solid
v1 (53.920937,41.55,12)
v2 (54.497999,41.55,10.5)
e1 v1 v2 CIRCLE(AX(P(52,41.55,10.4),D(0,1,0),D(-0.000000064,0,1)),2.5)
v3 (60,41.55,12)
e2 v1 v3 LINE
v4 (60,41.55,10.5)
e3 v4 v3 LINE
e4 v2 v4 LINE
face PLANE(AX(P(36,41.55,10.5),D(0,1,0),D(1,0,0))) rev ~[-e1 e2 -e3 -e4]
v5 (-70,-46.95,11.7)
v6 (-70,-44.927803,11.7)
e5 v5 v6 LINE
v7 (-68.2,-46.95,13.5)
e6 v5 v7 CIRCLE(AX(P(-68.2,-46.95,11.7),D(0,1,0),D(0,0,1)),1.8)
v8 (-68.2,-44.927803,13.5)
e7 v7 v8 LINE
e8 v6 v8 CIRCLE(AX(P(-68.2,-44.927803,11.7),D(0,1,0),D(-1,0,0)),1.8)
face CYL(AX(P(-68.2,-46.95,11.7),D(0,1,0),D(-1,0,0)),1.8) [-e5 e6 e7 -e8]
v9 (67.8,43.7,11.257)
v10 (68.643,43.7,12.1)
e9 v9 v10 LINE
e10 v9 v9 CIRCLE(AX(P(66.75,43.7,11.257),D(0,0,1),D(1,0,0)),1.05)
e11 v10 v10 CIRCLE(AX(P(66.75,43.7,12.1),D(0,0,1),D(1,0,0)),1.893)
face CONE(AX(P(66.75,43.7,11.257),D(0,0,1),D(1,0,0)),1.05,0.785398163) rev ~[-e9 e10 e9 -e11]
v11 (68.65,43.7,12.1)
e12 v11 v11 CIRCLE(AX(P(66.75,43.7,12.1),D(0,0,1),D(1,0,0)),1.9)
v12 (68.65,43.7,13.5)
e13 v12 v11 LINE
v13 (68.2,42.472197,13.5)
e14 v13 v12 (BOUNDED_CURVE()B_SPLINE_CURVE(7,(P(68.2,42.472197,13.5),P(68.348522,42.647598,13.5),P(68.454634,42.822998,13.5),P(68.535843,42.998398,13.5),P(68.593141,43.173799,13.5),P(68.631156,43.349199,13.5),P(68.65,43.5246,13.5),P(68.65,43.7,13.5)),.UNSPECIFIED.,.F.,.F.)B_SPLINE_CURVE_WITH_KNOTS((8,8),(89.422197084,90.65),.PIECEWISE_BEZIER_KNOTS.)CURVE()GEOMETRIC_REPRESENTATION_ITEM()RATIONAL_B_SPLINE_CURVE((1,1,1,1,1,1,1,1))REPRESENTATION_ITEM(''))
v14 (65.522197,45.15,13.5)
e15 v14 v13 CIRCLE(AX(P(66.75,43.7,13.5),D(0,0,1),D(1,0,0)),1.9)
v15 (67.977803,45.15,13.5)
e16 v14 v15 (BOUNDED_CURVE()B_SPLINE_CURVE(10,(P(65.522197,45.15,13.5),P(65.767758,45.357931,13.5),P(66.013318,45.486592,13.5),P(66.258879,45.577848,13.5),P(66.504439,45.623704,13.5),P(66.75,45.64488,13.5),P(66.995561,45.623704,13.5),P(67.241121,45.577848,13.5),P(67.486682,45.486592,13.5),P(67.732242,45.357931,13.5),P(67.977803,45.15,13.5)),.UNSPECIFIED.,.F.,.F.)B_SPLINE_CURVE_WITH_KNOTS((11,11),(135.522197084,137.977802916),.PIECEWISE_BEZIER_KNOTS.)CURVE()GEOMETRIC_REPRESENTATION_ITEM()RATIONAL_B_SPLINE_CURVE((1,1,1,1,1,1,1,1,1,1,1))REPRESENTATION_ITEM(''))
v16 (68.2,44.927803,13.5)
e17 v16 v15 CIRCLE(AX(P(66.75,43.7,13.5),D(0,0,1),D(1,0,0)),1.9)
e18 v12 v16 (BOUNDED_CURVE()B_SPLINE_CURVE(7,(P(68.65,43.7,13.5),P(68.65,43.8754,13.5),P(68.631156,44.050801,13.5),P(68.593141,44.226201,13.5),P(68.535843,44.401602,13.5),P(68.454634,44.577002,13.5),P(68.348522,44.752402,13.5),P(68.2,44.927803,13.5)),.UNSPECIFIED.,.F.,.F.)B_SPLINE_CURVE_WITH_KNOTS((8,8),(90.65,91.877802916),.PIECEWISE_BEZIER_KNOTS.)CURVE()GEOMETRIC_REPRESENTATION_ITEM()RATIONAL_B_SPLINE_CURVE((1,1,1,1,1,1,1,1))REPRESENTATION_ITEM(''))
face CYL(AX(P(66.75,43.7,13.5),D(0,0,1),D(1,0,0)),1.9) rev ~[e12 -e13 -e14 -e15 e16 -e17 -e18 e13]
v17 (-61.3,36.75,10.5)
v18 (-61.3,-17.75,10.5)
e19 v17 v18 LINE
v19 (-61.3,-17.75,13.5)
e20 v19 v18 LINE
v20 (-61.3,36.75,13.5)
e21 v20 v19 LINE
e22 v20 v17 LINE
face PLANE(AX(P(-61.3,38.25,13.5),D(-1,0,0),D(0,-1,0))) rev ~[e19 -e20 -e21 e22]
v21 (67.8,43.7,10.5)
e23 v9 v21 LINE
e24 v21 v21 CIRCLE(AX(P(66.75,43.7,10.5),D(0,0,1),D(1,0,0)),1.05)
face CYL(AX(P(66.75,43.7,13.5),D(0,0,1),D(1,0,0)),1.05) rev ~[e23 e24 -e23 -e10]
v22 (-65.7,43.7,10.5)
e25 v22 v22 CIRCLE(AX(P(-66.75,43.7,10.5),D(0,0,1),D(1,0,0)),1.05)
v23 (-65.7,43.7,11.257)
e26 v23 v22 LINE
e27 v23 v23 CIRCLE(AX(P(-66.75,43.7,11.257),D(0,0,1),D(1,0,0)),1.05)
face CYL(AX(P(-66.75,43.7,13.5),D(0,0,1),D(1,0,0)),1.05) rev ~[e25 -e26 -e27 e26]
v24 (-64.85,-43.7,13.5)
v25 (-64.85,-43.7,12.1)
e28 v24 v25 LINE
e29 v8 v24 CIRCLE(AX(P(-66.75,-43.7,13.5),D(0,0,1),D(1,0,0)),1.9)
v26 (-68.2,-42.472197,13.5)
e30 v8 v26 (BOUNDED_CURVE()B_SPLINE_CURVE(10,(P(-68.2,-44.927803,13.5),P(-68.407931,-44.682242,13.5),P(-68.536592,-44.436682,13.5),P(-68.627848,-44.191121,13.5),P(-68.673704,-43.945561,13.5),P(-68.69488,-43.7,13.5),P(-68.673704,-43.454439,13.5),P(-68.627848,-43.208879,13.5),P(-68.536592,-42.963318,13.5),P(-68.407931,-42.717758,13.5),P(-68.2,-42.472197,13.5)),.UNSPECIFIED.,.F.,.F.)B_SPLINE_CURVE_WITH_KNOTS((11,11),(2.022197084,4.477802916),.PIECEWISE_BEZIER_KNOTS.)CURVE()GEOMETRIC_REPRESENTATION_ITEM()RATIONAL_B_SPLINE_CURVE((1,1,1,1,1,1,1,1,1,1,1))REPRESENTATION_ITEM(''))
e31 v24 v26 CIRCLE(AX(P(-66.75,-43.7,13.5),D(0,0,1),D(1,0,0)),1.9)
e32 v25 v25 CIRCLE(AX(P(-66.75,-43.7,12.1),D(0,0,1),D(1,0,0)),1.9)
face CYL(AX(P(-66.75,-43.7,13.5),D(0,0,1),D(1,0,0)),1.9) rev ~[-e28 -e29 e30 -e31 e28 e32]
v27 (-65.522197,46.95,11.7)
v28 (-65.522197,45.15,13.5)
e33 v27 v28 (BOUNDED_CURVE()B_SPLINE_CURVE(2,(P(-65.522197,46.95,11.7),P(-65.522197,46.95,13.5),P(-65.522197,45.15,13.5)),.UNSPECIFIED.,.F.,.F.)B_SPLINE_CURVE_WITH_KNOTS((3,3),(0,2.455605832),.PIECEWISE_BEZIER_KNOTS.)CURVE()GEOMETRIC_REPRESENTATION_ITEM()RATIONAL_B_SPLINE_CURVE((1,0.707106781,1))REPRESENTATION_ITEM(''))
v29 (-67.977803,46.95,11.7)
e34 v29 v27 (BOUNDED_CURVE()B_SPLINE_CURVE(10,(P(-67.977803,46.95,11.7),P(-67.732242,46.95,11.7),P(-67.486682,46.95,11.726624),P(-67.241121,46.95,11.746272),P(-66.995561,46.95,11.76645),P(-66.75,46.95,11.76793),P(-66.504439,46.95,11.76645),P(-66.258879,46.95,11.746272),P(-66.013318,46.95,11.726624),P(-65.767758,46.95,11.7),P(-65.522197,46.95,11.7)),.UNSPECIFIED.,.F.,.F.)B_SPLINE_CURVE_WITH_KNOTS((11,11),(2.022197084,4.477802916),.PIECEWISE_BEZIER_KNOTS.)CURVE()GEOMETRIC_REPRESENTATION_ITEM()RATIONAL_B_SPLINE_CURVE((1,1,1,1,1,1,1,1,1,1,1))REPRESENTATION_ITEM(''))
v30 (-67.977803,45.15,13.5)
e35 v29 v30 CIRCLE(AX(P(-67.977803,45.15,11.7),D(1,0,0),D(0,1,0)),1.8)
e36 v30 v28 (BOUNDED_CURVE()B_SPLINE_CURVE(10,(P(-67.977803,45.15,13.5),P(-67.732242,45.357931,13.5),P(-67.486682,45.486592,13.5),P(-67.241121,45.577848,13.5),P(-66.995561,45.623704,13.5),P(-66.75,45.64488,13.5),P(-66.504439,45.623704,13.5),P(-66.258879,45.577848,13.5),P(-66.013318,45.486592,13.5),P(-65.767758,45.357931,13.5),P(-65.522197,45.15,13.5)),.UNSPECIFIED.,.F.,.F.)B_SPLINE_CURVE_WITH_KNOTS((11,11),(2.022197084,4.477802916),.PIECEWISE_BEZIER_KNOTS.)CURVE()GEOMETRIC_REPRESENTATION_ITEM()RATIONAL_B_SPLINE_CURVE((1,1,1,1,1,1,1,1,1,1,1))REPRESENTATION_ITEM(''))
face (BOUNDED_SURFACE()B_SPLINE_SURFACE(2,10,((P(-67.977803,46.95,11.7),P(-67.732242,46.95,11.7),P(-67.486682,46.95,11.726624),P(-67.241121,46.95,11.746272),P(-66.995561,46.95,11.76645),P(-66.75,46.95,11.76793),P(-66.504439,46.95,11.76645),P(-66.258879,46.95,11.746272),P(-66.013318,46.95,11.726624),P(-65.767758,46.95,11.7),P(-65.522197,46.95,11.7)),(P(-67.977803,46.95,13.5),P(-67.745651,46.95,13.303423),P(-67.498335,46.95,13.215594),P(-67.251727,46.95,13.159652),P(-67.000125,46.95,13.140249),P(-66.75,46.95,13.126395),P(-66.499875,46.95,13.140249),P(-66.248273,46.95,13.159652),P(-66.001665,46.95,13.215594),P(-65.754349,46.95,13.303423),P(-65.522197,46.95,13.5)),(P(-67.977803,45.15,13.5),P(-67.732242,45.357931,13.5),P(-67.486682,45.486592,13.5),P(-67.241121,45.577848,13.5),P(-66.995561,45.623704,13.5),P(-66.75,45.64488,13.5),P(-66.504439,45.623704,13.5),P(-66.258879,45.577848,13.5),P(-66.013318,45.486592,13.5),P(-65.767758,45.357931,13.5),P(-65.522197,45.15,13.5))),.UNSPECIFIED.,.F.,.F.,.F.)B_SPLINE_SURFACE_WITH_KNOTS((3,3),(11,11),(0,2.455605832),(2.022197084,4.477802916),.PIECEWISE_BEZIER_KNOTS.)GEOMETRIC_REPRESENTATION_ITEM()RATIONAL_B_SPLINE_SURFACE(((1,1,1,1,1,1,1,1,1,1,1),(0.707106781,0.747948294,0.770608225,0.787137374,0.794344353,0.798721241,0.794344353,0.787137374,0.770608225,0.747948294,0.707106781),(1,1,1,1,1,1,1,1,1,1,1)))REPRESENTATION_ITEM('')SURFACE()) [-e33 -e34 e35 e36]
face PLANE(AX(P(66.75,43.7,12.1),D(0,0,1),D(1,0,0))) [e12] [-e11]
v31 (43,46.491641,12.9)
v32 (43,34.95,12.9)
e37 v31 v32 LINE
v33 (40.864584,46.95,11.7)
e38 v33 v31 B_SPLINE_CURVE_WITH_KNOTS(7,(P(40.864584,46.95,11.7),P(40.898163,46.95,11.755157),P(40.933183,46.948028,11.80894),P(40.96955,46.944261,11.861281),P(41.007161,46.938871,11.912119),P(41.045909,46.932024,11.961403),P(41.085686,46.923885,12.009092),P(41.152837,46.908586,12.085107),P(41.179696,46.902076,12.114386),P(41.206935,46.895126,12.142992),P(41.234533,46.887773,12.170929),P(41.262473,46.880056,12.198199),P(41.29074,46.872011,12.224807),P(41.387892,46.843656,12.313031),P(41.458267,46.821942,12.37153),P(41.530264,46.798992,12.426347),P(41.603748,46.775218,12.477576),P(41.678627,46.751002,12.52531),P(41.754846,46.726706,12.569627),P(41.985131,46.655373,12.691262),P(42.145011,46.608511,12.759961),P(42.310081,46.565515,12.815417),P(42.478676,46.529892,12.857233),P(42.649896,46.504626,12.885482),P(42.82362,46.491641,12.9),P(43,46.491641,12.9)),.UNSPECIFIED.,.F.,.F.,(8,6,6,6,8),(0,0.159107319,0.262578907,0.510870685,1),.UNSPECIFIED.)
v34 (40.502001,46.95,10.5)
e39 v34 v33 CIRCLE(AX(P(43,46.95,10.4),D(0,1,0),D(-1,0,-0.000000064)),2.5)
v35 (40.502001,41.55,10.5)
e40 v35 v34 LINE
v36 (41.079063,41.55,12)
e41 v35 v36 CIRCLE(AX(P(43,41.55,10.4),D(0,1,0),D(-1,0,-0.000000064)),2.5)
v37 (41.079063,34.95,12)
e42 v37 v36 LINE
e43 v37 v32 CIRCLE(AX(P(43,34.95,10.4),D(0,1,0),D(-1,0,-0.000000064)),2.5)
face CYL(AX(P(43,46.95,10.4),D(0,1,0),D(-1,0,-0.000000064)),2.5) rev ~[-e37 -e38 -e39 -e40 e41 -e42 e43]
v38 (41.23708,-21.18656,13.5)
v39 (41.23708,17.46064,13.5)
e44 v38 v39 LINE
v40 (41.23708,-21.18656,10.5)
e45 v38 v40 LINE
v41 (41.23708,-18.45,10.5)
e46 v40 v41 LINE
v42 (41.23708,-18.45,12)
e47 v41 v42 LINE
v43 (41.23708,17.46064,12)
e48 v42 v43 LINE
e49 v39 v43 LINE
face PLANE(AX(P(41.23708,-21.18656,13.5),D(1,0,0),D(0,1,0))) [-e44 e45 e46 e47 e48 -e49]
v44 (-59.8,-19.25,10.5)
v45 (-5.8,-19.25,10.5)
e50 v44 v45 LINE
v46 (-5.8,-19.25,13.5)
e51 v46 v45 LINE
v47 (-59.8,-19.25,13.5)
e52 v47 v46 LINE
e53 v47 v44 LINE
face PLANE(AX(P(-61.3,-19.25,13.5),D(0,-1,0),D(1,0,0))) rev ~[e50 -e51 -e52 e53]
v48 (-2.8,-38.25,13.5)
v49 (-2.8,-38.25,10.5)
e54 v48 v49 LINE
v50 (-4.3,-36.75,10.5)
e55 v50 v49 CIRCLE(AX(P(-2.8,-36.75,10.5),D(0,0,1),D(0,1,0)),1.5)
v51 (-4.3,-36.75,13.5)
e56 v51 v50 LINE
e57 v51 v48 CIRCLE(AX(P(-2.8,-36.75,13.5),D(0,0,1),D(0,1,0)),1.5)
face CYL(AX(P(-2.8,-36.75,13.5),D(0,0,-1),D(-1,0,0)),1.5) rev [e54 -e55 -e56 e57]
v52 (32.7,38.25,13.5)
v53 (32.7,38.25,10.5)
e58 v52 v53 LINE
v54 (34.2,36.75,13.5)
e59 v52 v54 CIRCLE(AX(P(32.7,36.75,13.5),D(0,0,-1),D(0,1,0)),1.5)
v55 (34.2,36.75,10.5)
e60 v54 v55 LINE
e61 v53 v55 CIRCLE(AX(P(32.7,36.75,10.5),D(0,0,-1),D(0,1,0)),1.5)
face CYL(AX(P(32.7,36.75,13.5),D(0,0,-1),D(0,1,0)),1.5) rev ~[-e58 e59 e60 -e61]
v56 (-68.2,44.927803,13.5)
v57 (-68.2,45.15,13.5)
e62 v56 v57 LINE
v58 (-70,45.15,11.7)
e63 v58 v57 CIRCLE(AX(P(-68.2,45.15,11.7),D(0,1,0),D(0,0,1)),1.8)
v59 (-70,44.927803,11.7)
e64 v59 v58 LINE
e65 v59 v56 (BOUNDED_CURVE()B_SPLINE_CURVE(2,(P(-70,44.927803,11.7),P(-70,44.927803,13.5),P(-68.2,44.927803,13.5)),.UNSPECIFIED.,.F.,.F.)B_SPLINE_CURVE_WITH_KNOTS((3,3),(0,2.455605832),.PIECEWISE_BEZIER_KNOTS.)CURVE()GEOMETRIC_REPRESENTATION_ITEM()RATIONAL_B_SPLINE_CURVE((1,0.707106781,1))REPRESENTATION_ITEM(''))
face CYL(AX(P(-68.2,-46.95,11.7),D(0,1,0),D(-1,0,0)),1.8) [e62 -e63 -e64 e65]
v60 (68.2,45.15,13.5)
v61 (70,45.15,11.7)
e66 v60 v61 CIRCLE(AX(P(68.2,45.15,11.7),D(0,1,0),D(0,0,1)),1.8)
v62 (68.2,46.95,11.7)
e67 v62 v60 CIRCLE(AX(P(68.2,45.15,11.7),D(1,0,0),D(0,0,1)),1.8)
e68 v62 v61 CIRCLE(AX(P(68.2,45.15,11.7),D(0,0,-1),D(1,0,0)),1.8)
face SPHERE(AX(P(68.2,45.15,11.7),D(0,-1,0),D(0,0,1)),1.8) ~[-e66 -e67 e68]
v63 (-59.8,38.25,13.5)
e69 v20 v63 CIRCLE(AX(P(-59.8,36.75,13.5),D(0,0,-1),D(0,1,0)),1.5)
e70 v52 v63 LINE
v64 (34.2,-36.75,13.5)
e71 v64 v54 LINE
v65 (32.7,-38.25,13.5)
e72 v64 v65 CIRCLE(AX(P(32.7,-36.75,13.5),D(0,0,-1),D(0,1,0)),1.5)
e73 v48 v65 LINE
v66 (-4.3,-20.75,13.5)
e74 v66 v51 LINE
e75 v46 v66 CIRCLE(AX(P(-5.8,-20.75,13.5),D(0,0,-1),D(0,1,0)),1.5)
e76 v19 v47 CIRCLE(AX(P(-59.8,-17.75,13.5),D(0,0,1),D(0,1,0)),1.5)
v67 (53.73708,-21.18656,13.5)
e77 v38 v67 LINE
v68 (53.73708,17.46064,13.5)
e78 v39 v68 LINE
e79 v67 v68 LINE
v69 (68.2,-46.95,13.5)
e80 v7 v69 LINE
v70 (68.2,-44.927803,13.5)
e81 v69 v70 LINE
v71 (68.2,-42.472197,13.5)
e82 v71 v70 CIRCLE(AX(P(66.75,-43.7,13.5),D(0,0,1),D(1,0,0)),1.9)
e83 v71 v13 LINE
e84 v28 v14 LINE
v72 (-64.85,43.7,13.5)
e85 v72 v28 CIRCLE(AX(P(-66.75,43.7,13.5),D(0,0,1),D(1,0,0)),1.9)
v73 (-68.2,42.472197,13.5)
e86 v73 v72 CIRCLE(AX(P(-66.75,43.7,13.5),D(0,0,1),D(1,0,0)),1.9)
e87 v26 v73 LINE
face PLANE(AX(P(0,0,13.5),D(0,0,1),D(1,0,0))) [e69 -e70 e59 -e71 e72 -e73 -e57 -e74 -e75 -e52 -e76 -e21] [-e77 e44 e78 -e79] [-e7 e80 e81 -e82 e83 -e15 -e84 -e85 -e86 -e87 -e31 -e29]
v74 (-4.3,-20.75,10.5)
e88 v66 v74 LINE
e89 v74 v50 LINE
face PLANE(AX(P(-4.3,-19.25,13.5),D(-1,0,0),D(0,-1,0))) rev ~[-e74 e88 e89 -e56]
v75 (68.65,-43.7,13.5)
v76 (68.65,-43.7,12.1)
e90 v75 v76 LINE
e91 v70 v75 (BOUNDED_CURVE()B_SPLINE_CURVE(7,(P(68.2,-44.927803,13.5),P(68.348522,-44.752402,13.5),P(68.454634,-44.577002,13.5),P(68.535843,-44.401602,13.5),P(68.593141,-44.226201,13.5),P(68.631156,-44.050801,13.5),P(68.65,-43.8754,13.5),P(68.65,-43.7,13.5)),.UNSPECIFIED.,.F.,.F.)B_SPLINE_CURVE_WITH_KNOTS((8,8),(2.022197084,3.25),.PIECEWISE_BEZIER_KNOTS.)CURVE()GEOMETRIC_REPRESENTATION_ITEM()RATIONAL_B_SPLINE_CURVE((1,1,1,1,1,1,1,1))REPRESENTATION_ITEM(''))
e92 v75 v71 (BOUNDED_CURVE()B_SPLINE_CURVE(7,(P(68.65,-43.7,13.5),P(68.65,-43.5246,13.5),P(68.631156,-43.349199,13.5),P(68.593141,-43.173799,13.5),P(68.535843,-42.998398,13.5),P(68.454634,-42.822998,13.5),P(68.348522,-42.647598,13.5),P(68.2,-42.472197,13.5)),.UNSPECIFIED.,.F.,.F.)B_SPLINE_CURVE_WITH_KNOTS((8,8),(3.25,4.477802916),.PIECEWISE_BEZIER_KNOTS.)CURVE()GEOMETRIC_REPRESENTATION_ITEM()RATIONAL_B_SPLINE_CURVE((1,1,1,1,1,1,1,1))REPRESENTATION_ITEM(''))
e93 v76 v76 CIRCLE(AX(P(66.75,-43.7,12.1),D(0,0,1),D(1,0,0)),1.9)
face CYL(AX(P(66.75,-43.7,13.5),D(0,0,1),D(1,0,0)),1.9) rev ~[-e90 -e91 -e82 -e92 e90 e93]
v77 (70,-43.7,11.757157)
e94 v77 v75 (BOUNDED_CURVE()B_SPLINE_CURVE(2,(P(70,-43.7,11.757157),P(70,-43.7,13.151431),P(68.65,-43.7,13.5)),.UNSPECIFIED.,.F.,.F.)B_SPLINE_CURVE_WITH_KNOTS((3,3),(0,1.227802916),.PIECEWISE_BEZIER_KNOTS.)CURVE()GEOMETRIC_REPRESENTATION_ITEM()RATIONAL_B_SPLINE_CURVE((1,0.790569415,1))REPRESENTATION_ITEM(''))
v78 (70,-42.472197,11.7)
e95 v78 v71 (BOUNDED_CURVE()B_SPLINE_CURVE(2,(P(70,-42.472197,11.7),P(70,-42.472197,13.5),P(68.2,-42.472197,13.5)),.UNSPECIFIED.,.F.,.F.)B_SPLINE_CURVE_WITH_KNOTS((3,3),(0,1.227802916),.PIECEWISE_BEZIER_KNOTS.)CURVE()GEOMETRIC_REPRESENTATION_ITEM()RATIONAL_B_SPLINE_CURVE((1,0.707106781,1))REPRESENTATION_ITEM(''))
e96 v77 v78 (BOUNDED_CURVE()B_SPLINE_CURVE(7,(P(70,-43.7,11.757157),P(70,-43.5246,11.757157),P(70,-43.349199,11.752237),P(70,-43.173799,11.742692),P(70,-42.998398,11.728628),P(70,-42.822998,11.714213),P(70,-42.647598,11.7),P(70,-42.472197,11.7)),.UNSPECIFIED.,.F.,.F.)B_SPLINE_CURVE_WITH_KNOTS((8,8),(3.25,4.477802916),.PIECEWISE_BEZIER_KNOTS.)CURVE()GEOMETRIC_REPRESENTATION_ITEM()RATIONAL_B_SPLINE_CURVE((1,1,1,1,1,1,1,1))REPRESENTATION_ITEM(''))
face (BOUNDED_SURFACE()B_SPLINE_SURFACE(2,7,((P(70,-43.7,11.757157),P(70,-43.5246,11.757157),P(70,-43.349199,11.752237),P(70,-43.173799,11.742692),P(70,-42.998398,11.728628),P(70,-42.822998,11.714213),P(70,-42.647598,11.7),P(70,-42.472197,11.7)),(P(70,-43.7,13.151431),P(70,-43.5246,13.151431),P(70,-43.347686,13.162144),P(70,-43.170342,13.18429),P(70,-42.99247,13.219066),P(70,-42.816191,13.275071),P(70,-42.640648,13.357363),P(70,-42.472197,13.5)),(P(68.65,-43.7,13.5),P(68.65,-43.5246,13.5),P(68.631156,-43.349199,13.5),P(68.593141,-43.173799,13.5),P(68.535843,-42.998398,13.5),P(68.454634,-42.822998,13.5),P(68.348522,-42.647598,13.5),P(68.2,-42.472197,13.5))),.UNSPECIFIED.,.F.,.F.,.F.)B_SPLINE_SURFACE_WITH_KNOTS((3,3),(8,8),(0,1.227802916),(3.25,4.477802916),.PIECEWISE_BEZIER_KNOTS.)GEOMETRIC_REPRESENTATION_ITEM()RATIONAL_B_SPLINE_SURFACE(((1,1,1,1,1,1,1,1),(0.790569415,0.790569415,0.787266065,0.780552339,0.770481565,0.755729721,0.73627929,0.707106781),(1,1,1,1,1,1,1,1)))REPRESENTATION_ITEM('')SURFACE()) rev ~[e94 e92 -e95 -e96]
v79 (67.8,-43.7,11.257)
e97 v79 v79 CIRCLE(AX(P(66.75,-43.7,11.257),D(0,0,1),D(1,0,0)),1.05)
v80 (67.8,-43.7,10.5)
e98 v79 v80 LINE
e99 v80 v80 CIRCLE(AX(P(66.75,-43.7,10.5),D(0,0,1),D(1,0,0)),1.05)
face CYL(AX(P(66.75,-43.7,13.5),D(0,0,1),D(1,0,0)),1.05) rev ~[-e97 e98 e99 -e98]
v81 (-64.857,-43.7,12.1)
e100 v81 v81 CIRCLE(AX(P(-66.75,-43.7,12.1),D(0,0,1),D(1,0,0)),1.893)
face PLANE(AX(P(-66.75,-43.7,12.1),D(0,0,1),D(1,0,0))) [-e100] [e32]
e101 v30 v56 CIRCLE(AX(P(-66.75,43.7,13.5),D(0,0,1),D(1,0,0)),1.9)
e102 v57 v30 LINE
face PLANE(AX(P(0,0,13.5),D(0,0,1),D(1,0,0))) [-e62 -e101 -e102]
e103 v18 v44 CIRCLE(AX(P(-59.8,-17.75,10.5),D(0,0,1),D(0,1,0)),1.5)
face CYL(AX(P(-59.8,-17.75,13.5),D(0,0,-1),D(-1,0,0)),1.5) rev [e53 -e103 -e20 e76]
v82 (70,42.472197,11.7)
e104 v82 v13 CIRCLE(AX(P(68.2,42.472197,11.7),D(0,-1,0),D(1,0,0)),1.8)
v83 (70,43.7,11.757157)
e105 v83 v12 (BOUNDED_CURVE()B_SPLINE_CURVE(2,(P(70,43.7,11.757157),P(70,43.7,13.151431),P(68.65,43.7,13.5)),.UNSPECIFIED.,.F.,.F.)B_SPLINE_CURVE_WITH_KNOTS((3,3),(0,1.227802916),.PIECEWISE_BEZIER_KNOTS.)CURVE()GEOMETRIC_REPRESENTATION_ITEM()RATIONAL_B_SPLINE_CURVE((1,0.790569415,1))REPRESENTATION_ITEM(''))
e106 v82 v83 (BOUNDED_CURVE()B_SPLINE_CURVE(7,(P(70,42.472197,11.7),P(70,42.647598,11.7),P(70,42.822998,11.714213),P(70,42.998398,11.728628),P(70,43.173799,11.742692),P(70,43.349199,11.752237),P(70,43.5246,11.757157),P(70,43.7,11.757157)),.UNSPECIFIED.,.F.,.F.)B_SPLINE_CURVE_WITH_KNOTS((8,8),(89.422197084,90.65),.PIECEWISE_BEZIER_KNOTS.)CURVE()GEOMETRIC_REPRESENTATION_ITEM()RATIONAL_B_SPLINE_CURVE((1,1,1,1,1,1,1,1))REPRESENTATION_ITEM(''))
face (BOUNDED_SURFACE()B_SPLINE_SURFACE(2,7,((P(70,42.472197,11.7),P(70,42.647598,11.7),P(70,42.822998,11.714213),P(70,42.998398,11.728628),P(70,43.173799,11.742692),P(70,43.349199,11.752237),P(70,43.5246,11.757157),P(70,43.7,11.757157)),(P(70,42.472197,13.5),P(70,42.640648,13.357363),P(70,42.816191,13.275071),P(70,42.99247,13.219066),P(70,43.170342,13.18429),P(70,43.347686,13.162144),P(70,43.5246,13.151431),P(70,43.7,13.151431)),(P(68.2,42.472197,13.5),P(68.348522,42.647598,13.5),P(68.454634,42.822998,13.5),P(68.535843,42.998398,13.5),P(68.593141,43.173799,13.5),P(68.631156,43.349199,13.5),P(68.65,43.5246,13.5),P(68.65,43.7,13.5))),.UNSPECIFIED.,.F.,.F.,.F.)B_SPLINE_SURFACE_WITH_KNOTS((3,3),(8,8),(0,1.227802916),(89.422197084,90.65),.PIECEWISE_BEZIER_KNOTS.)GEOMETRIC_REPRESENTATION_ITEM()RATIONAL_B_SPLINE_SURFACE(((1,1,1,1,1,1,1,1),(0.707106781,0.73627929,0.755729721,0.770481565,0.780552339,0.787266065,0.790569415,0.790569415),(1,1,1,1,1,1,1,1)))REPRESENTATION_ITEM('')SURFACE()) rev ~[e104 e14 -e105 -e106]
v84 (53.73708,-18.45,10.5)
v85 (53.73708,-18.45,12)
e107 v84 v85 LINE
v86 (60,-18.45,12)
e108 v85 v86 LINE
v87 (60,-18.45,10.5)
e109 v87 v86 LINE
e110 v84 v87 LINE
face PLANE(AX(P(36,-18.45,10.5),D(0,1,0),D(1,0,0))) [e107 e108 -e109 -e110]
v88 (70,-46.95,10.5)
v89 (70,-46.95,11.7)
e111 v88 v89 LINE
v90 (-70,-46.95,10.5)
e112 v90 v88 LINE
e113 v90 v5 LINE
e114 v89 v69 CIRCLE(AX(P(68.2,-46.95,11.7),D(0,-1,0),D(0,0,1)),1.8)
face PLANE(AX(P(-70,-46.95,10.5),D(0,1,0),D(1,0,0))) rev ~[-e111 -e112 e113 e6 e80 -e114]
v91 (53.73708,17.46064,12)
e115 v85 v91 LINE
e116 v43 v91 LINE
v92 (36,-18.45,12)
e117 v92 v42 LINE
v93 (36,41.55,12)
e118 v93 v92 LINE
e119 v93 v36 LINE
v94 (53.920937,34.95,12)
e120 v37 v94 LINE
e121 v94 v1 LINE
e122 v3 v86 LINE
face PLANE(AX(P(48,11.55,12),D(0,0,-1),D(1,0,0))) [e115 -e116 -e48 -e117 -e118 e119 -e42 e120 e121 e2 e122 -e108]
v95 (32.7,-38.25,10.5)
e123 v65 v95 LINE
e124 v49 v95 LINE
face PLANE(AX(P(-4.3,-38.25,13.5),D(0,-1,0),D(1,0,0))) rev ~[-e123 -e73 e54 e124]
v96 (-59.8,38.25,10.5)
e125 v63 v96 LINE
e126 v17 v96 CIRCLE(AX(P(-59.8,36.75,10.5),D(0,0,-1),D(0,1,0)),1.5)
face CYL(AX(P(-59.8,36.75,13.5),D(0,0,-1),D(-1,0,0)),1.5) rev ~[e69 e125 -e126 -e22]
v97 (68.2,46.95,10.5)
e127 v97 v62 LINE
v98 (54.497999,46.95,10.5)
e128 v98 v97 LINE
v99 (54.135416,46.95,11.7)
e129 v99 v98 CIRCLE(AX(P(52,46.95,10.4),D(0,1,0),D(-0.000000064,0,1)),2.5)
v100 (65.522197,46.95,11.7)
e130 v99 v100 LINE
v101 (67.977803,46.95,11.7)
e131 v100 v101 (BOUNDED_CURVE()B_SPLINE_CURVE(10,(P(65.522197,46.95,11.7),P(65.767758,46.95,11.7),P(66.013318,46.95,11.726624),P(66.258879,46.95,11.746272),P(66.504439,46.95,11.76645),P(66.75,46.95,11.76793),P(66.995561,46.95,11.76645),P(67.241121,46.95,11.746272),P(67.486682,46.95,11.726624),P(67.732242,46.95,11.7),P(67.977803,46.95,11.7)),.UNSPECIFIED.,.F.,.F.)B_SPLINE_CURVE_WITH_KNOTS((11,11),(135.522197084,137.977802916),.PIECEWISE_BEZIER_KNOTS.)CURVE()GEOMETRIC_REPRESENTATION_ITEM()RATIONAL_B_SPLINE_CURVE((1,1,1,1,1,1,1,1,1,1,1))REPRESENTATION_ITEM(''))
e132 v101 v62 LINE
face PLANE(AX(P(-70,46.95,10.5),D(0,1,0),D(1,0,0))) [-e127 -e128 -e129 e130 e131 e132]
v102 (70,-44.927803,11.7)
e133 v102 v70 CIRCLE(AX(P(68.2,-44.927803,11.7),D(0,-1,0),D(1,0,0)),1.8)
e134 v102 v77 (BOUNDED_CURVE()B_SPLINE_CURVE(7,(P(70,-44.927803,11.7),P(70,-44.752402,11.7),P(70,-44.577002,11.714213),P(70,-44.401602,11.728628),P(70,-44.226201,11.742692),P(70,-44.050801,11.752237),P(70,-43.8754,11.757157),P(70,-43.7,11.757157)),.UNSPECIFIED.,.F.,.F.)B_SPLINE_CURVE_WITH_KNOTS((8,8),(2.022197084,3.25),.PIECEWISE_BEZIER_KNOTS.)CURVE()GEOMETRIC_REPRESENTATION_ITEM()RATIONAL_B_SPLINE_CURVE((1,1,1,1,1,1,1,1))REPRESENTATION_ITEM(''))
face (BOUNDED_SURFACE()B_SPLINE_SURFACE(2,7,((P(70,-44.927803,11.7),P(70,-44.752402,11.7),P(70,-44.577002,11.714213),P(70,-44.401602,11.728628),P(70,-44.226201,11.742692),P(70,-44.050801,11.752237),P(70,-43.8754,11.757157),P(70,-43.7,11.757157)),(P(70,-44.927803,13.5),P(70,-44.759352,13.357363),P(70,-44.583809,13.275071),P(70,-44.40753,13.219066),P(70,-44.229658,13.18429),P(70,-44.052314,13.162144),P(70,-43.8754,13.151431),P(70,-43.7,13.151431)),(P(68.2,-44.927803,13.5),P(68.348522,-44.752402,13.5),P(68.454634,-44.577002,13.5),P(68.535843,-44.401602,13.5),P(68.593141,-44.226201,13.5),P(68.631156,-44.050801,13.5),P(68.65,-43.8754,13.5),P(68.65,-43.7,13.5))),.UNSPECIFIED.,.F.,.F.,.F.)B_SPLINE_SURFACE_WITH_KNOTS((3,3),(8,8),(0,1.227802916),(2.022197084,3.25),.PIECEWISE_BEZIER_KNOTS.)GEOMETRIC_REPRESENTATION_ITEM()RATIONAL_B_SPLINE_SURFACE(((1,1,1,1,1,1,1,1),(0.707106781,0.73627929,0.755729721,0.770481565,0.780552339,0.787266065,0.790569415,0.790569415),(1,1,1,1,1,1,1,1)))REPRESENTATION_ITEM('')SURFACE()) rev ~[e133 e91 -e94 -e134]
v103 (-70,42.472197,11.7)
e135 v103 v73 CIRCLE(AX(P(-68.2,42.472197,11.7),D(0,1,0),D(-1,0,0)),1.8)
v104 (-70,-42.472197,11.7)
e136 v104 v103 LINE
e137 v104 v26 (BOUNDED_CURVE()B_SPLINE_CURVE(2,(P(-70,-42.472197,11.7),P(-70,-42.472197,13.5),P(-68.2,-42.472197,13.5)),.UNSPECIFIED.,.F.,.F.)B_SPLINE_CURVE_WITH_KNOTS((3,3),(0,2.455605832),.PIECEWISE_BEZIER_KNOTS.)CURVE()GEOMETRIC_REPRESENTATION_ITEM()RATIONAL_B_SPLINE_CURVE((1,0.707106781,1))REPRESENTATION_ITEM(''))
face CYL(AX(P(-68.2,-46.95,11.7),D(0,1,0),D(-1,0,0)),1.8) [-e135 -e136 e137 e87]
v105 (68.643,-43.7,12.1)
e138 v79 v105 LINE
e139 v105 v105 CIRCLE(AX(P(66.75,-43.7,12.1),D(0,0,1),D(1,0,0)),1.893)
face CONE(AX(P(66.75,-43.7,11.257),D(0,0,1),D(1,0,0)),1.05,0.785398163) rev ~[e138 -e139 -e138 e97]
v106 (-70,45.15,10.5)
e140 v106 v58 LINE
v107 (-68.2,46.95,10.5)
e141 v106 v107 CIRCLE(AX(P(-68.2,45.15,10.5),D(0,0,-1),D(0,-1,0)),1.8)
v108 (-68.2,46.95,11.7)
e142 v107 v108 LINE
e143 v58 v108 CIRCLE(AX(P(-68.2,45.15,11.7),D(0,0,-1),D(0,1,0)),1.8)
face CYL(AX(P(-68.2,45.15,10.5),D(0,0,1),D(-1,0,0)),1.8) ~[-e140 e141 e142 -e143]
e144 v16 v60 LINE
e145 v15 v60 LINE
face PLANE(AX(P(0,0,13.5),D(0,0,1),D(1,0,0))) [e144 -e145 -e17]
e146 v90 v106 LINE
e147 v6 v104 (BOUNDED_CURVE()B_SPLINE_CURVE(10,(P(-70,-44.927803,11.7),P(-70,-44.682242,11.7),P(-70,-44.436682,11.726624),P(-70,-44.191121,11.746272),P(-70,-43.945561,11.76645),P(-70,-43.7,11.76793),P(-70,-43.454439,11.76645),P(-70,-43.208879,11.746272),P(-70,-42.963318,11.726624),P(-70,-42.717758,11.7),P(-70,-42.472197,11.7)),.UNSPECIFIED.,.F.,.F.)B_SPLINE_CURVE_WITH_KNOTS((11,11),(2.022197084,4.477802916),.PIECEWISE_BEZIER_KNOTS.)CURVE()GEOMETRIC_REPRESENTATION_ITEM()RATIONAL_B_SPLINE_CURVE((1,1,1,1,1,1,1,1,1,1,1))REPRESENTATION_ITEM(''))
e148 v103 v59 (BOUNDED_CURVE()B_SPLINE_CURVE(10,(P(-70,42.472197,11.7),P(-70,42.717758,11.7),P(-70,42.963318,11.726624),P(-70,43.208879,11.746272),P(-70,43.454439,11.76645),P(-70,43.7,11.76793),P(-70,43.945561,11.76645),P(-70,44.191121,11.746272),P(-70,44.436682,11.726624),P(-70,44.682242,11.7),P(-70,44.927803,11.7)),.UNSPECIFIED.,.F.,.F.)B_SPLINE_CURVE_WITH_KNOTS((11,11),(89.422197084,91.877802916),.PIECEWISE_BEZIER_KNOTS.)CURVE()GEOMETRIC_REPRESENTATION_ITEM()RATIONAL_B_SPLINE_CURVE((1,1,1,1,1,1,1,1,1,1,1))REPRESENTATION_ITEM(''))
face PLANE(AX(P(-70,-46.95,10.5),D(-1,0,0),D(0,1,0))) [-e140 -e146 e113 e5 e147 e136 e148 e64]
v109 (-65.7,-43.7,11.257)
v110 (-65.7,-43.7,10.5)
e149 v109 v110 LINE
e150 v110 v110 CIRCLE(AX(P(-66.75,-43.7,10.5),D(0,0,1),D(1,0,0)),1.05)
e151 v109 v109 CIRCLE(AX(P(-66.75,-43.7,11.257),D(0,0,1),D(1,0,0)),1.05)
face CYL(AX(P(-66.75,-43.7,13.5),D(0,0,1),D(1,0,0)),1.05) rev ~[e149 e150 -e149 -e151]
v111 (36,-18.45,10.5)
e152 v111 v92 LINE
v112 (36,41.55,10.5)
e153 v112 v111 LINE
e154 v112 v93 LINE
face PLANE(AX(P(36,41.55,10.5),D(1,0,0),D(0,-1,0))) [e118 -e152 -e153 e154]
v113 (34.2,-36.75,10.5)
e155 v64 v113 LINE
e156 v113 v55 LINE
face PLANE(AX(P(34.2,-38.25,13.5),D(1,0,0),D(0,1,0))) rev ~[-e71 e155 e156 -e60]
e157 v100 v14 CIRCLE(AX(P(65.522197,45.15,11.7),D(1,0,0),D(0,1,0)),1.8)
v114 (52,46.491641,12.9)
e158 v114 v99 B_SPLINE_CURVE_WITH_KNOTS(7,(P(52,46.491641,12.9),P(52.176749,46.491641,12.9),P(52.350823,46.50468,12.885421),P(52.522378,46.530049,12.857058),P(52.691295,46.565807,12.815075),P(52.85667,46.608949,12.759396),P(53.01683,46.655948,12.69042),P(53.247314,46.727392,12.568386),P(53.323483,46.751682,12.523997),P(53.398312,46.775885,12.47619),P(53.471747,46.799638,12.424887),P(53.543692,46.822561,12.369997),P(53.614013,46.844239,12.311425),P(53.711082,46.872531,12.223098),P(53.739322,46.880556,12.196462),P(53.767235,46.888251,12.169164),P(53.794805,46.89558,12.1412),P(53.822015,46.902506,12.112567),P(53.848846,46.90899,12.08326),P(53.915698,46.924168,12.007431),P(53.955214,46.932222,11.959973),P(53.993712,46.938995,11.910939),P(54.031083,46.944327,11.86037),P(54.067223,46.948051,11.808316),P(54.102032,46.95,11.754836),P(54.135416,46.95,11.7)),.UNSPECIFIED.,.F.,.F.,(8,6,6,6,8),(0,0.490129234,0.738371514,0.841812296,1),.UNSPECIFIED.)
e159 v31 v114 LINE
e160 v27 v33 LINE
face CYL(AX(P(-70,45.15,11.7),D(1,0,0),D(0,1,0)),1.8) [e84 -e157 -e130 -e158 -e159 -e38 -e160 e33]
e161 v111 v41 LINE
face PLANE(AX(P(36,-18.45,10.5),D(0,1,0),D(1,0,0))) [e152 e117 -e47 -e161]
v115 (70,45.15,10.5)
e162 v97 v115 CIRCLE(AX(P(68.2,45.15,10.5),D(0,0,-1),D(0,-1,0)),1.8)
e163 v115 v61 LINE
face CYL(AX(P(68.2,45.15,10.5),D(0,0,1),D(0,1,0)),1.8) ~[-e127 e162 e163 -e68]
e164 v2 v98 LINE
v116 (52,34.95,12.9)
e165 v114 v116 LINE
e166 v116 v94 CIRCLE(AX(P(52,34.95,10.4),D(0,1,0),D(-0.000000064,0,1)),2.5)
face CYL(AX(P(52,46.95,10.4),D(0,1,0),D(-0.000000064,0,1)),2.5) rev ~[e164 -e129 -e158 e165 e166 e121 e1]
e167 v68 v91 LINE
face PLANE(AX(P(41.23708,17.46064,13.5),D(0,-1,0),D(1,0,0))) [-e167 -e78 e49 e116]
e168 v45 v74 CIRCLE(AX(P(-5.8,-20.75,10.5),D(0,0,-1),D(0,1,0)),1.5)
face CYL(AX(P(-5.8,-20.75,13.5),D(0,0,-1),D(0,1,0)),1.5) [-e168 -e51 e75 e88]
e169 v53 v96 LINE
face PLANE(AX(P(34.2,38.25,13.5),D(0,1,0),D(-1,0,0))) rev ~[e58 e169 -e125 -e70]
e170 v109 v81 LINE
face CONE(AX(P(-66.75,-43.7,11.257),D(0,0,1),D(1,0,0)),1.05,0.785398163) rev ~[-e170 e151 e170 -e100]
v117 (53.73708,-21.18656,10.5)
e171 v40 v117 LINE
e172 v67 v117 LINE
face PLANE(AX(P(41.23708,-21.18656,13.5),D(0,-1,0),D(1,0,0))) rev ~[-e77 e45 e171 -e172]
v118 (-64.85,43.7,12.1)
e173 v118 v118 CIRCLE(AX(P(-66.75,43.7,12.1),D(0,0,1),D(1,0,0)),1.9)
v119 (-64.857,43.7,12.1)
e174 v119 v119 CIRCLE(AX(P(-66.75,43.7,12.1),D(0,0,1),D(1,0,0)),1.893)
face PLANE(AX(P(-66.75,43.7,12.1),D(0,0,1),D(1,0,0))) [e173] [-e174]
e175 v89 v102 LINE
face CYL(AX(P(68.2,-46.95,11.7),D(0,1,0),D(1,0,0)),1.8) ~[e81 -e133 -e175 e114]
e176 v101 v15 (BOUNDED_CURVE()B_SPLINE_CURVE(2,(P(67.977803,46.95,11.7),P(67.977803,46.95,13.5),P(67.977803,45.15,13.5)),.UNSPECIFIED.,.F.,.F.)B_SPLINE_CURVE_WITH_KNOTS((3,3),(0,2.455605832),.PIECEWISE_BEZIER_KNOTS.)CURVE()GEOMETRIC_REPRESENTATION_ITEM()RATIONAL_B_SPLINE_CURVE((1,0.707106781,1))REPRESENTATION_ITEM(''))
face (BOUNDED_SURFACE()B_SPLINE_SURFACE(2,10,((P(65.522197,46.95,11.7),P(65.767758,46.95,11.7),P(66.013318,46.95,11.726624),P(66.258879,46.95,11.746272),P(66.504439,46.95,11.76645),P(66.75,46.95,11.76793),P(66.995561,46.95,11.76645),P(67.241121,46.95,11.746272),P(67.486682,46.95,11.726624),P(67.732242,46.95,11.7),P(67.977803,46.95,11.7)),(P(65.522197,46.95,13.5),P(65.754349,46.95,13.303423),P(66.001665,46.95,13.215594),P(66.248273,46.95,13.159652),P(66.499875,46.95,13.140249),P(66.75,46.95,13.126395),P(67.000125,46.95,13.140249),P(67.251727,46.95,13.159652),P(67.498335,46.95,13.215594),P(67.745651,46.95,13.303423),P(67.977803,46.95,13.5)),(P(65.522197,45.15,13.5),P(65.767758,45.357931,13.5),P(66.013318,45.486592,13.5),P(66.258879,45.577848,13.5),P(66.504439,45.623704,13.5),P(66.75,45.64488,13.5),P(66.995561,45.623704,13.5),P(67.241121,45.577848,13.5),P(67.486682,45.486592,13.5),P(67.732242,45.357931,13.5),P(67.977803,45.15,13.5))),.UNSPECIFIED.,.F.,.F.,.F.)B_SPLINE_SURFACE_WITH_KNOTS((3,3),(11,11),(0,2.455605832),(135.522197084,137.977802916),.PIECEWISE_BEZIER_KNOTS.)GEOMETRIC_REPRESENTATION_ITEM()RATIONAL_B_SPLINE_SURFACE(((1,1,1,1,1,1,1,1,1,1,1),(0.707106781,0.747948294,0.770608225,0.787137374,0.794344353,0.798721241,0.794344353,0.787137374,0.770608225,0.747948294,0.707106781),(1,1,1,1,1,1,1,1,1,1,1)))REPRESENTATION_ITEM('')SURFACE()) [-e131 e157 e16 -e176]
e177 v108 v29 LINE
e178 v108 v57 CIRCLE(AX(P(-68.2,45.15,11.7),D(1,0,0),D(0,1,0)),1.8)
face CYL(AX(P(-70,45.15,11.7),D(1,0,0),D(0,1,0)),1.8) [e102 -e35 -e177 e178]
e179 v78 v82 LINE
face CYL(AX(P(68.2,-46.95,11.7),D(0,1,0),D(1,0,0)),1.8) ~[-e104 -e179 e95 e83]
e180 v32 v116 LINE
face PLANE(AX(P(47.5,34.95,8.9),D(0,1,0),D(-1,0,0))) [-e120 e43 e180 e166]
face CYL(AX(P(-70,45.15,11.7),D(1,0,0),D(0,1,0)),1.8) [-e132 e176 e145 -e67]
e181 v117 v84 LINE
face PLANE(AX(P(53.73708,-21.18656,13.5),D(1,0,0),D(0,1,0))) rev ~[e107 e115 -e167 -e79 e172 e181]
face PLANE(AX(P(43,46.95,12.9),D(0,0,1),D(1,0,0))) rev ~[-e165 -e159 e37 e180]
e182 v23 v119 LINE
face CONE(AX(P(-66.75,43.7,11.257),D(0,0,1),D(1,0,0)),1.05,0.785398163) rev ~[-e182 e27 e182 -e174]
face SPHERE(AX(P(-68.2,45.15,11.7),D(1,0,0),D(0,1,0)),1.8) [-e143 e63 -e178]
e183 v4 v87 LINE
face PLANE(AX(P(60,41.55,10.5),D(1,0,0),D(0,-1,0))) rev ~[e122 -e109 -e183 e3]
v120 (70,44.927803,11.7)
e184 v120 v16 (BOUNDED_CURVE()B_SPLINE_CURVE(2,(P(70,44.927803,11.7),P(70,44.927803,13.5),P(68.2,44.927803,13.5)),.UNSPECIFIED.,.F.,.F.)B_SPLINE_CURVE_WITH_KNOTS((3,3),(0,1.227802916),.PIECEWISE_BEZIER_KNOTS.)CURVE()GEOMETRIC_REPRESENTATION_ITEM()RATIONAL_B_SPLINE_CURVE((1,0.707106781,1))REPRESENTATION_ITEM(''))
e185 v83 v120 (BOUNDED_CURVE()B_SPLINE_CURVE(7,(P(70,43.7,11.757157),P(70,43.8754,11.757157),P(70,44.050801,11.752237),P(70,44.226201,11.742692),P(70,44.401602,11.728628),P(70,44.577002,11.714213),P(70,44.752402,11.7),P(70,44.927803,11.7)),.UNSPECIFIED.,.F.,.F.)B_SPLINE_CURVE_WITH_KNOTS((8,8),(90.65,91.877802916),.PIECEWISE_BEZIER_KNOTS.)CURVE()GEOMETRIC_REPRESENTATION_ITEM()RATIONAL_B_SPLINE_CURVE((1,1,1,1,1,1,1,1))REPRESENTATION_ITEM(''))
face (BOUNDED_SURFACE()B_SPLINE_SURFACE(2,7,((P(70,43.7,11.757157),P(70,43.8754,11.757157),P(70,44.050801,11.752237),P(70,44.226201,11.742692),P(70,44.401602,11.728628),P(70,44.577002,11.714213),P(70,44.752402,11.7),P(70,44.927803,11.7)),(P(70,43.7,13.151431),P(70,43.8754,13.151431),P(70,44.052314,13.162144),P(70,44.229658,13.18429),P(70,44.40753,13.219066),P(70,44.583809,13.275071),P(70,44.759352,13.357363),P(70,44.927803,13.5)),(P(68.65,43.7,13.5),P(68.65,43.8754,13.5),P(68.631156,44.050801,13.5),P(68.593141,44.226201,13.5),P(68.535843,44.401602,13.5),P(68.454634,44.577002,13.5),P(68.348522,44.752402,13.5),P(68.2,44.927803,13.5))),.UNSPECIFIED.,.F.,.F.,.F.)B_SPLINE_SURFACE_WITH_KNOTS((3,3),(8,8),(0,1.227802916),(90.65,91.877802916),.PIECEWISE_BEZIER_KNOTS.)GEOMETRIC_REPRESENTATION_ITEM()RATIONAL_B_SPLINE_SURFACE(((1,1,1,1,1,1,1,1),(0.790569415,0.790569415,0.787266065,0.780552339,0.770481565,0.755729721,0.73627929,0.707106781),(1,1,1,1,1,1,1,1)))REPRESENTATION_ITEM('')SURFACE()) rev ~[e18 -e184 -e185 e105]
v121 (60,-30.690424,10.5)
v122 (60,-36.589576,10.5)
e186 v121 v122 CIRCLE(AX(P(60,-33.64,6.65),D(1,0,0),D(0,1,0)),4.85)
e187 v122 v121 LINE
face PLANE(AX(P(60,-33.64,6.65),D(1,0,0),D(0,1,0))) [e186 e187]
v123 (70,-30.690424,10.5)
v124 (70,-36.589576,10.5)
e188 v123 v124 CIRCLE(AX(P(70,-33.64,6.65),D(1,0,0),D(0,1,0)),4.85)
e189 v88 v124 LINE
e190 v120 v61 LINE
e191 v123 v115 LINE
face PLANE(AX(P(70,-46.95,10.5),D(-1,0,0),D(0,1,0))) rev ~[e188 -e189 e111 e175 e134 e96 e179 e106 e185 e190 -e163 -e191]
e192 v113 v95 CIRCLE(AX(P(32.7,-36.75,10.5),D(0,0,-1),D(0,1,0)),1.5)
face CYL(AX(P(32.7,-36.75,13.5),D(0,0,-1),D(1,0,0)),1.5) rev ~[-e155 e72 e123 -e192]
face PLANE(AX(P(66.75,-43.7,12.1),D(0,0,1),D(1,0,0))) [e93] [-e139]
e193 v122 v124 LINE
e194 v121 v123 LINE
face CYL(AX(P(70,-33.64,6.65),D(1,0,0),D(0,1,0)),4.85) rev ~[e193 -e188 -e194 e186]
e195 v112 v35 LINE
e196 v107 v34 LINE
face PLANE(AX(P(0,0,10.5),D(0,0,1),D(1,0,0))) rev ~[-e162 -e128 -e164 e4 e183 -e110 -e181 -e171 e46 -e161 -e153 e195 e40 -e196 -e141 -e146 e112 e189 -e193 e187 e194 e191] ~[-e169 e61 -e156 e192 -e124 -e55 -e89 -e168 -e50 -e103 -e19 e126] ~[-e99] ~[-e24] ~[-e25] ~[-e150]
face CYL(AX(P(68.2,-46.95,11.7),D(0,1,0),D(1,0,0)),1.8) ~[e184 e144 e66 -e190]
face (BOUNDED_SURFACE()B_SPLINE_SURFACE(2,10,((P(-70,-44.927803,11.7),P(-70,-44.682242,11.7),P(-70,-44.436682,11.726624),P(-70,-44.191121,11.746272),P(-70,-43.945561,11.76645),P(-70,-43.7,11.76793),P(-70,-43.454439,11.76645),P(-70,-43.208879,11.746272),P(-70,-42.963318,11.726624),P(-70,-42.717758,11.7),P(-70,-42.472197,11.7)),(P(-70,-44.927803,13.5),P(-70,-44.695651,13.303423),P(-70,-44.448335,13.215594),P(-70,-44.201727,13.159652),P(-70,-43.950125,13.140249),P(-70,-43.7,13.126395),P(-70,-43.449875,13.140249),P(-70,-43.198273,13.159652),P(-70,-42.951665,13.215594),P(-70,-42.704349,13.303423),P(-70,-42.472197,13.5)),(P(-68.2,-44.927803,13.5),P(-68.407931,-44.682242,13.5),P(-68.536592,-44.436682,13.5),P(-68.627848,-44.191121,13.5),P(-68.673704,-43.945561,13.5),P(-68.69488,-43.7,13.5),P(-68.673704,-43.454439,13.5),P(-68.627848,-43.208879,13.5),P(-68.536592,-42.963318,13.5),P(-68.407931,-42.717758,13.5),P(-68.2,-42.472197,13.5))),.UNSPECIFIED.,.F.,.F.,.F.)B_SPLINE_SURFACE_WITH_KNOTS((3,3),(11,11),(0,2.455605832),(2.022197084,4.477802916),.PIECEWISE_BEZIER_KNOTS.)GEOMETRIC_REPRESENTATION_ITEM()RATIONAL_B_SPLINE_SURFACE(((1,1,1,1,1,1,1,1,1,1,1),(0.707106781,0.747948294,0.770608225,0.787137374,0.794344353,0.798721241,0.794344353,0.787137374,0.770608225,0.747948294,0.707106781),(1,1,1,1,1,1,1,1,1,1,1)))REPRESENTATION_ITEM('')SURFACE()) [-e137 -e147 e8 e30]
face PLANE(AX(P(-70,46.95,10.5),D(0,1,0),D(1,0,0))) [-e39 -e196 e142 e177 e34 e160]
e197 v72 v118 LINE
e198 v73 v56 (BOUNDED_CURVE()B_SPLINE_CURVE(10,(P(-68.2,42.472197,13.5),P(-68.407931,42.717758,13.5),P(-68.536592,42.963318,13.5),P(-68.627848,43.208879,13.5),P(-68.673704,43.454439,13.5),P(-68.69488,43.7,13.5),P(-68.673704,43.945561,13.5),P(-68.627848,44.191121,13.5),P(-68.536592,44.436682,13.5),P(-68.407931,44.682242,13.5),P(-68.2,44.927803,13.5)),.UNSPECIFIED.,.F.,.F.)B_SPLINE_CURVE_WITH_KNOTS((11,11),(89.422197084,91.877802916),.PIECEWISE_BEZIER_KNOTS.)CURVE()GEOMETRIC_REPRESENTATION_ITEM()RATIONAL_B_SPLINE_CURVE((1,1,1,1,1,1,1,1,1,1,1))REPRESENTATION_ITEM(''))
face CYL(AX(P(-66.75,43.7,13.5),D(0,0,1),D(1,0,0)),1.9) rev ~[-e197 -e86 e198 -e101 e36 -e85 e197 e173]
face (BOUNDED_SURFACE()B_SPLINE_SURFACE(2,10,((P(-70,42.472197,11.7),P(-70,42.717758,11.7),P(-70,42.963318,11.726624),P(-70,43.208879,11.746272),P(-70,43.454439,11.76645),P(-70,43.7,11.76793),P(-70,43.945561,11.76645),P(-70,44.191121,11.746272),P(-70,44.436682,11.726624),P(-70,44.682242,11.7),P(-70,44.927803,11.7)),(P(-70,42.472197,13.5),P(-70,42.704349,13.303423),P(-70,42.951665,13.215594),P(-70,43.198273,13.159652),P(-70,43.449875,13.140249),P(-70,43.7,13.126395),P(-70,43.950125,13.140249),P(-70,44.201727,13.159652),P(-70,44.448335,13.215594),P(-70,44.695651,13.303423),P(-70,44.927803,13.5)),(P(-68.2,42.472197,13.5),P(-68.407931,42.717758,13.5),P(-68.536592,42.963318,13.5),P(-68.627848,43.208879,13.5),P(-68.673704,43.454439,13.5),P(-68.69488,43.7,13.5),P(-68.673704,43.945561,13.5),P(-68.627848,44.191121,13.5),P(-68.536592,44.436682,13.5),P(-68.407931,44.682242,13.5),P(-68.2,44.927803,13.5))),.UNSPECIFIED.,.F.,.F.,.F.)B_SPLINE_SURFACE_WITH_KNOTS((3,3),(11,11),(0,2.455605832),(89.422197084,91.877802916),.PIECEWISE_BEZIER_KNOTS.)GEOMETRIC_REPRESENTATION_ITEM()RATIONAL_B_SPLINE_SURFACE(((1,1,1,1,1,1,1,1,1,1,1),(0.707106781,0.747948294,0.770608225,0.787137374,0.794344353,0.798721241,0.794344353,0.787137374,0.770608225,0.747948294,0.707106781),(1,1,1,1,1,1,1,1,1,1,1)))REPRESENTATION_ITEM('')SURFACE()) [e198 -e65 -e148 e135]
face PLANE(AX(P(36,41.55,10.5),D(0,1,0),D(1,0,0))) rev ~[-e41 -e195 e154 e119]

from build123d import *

# Parameters (mm, degrees)
SKETCH002_W     = 140
SKETCH002_H     = 93.9
PAD001_DEPTH    = 3
SKETCH003_W     = 12.5
SKETCH003_H     = 38.6472
POCKET001_DEPTH = 3
SKETCH008_W     = 24
SKETCH008_H     = 60
POCKET004_DEPTH = 1.5
SKETCH011_R     = 1.05
POCKET006_DEPTH = 3.001
SKETCH012_R     = 1.9
POCKET007_DEPTH = 1.4
CHAMFER_1_ANGLE = 45
CHAMFER_1_SIZE  = 0.843
CHAMFER_2_ANGLE = 45
CHAMFER_2_SIZE  = 0.843
CHAMFER_3_ANGLE = 45
CHAMFER_3_SIZE  = 0.843
CHAMFER_4_ANGLE = 45
CHAMFER_4_SIZE  = 0.843
FILLET_R        = 1.5
SKETCH018_R     = 4.85
POCKET013_DEPTH = 10
FILLET001_R     = 1.8
POCKET015_DEPTH = 12


with BuildPart() as part:
    # Sketch002 (on XY_Plane154 of Origin309) → Pad001 (new body)
    with BuildSketch(Plane.XY):
        Rectangle(SKETCH002_W, SKETCH002_H)
    extrude(amount=PAD001_DEPTH)

    # Sketch003 (on Face6 of Pad001) → Pocket001 (cut)
    with BuildSketch(Plane.XY.offset(3)):
        Polygon((-61.3, 38.25), (-61.3, -19.25), (-4.3, -19.25), (-4.3, -38.25), (34.2, -38.25), (34.2, 38.25), align=None)
        with Locations((47.48708, -1.86296)):
            Rectangle(SKETCH003_W, SKETCH003_H)
    extrude(amount=-POCKET001_DEPTH, mode=Mode.SUBTRACT)

    # Sketch008 (on Face4 of Pocket001) → Pocket004 (cut)
    with BuildSketch(Plane(origin=(0, 0, 0), x_dir=(1, 0, 0), z_dir=(0, 0, -1))):
        with Locations((48, -11.55)):
            Rectangle(SKETCH008_W, SKETCH008_H)
    extrude(amount=-POCKET004_DEPTH, mode=Mode.SUBTRACT)

    # Sketch011 (on Face5 of Pocket004) → Pocket006 (cut, through all)
    with BuildSketch(Plane.XY.offset(3)):
        with Locations((66.75, 43.7)):
            Circle(SKETCH011_R)
        with Locations((66.75, -43.7)):
            Circle(SKETCH011_R)
        with Locations((-66.75, -43.7)):
            Circle(SKETCH011_R)
        with Locations((-66.75, 43.7)):
            Circle(SKETCH011_R)
    extrude(amount=-POCKET006_DEPTH, mode=Mode.SUBTRACT)

    # Sketch012 (on Face5 of Pocket006) → Pocket007 (cut)
    with BuildSketch(Plane.XY.offset(3)):
        with Locations((-66.75, 43.7)):
            Circle(SKETCH012_R)
        with Locations((66.75, 43.7)):
            Circle(SKETCH012_R)
        with Locations((-66.75, -43.7)):
            Circle(SKETCH012_R)
        with Locations((66.75, -43.7)):
            Circle(SKETCH012_R)
    extrude(amount=-POCKET007_DEPTH, mode=Mode.SUBTRACT)

    # Chamfer 1
    chamfer_1_edges = [part.edges().sort_by_distance(p)[0] for p in [
        (-67.8, 43.7, 1.6),
    ]]
    chamfer_1_side = part.faces().sort_by_distance((-67.8, 43.7, 0.8))[0]
    chamfer(chamfer_1_edges, length=CHAMFER_1_SIZE, angle=CHAMFER_1_ANGLE, reference=chamfer_1_side)

    # Chamfer 2
    chamfer_2_edges = [part.edges().sort_by_distance(p)[0] for p in [
        (65.7, -43.7, 1.6),
    ]]
    chamfer_2_side = part.faces().sort_by_distance((65.7, -43.7, 0.8))[0]
    chamfer(chamfer_2_edges, length=CHAMFER_2_SIZE, angle=CHAMFER_2_ANGLE, reference=chamfer_2_side)

    # Chamfer 3
    chamfer_3_edges = [part.edges().sort_by_distance(p)[0] for p in [
        (-67.8, -43.7, 1.6),
    ]]
    chamfer_3_side = part.faces().sort_by_distance((-67.8, -43.7, 0.8))[0]
    chamfer(chamfer_3_edges, length=CHAMFER_3_SIZE, angle=CHAMFER_3_ANGLE, reference=chamfer_3_side)

    # Chamfer 4
    chamfer_4_edges = [part.edges().sort_by_distance(p)[0] for p in [
        (65.7, 43.7, 1.6),
    ]]
    chamfer_4_side = part.faces().sort_by_distance((65.7, 43.7, 0.8))[0]
    chamfer(chamfer_4_edges, length=CHAMFER_4_SIZE, angle=CHAMFER_4_ANGLE, reference=chamfer_4_side)

    # Fillet
    fillet_edges = [part.edges().sort_by_distance(p)[0] for p in [
        (-4.3, -38.25, 1.5),
        (34.2, -38.25, 1.5),
        (34.2, 38.25, 1.5),
        (-61.3, 38.25, 1.5),
        (-61.3, -19.25, 1.5),
        (-4.3, -19.25, 1.5),
    ]]
    fillet(fillet_edges, radius=FILLET_R)

    # Sketch018 (on Face16 of Fillet) → Pocket013 (cut)
    with BuildSketch(Plane.YZ.offset(70)):
        with Locations((-33.64, -3.85)):
            Circle(SKETCH018_R)
    extrude(amount=-POCKET013_DEPTH, mode=Mode.SUBTRACT)

    # Fillet001
    fillet001_edges = [part.edges().sort_by_distance(p)[0] for p in [
        (70, 0, 3),
        (0, 46.95, 3),
        (70, 46.95, 1.5),
        (-70, 46.95, 1.5),
        (-70, 0, 3),
    ]]
    fillet(fillet001_edges, radius=FILLET001_R)

    # Sketch021 (on Face5 of Fillet001) → Pocket015 (cut)
    with BuildSketch(Plane(origin=(0, 46.95, 0), x_dir=(-1, 0, 0), z_dir=(0, 1, 0))):
        with BuildLine():
            Line((-40.5, -3.1), (-40.5, -0.1))
            ThreePointArc((-40.5, -0.1), (-41.232233, 1.667767), (-43, 2.4))
            Line((-43, 2.4), (-52, 2.4))
            ThreePointArc((-52, 2.4), (-53.767767, 1.667767), (-54.5, -0.1))
            Line((-54.5, -0.1), (-54.5, -3.1))
            ThreePointArc((-54.5, -3.1), (-53.767767, -4.867767), (-52, -5.6))
            Line((-52, -5.6), (-43, -5.6))
            ThreePointArc((-43, -5.6), (-41.232233, -4.867767), (-40.5, -3.1))
        make_face()
    extrude(amount=-POCKET015_DEPTH, mode=Mode.SUBTRACT)


with BuildPart() as part_1:
    # Body001 placement: moved
    add(part.part.moved(Location((0, 0, 10.5))))


solid = part_1.part
